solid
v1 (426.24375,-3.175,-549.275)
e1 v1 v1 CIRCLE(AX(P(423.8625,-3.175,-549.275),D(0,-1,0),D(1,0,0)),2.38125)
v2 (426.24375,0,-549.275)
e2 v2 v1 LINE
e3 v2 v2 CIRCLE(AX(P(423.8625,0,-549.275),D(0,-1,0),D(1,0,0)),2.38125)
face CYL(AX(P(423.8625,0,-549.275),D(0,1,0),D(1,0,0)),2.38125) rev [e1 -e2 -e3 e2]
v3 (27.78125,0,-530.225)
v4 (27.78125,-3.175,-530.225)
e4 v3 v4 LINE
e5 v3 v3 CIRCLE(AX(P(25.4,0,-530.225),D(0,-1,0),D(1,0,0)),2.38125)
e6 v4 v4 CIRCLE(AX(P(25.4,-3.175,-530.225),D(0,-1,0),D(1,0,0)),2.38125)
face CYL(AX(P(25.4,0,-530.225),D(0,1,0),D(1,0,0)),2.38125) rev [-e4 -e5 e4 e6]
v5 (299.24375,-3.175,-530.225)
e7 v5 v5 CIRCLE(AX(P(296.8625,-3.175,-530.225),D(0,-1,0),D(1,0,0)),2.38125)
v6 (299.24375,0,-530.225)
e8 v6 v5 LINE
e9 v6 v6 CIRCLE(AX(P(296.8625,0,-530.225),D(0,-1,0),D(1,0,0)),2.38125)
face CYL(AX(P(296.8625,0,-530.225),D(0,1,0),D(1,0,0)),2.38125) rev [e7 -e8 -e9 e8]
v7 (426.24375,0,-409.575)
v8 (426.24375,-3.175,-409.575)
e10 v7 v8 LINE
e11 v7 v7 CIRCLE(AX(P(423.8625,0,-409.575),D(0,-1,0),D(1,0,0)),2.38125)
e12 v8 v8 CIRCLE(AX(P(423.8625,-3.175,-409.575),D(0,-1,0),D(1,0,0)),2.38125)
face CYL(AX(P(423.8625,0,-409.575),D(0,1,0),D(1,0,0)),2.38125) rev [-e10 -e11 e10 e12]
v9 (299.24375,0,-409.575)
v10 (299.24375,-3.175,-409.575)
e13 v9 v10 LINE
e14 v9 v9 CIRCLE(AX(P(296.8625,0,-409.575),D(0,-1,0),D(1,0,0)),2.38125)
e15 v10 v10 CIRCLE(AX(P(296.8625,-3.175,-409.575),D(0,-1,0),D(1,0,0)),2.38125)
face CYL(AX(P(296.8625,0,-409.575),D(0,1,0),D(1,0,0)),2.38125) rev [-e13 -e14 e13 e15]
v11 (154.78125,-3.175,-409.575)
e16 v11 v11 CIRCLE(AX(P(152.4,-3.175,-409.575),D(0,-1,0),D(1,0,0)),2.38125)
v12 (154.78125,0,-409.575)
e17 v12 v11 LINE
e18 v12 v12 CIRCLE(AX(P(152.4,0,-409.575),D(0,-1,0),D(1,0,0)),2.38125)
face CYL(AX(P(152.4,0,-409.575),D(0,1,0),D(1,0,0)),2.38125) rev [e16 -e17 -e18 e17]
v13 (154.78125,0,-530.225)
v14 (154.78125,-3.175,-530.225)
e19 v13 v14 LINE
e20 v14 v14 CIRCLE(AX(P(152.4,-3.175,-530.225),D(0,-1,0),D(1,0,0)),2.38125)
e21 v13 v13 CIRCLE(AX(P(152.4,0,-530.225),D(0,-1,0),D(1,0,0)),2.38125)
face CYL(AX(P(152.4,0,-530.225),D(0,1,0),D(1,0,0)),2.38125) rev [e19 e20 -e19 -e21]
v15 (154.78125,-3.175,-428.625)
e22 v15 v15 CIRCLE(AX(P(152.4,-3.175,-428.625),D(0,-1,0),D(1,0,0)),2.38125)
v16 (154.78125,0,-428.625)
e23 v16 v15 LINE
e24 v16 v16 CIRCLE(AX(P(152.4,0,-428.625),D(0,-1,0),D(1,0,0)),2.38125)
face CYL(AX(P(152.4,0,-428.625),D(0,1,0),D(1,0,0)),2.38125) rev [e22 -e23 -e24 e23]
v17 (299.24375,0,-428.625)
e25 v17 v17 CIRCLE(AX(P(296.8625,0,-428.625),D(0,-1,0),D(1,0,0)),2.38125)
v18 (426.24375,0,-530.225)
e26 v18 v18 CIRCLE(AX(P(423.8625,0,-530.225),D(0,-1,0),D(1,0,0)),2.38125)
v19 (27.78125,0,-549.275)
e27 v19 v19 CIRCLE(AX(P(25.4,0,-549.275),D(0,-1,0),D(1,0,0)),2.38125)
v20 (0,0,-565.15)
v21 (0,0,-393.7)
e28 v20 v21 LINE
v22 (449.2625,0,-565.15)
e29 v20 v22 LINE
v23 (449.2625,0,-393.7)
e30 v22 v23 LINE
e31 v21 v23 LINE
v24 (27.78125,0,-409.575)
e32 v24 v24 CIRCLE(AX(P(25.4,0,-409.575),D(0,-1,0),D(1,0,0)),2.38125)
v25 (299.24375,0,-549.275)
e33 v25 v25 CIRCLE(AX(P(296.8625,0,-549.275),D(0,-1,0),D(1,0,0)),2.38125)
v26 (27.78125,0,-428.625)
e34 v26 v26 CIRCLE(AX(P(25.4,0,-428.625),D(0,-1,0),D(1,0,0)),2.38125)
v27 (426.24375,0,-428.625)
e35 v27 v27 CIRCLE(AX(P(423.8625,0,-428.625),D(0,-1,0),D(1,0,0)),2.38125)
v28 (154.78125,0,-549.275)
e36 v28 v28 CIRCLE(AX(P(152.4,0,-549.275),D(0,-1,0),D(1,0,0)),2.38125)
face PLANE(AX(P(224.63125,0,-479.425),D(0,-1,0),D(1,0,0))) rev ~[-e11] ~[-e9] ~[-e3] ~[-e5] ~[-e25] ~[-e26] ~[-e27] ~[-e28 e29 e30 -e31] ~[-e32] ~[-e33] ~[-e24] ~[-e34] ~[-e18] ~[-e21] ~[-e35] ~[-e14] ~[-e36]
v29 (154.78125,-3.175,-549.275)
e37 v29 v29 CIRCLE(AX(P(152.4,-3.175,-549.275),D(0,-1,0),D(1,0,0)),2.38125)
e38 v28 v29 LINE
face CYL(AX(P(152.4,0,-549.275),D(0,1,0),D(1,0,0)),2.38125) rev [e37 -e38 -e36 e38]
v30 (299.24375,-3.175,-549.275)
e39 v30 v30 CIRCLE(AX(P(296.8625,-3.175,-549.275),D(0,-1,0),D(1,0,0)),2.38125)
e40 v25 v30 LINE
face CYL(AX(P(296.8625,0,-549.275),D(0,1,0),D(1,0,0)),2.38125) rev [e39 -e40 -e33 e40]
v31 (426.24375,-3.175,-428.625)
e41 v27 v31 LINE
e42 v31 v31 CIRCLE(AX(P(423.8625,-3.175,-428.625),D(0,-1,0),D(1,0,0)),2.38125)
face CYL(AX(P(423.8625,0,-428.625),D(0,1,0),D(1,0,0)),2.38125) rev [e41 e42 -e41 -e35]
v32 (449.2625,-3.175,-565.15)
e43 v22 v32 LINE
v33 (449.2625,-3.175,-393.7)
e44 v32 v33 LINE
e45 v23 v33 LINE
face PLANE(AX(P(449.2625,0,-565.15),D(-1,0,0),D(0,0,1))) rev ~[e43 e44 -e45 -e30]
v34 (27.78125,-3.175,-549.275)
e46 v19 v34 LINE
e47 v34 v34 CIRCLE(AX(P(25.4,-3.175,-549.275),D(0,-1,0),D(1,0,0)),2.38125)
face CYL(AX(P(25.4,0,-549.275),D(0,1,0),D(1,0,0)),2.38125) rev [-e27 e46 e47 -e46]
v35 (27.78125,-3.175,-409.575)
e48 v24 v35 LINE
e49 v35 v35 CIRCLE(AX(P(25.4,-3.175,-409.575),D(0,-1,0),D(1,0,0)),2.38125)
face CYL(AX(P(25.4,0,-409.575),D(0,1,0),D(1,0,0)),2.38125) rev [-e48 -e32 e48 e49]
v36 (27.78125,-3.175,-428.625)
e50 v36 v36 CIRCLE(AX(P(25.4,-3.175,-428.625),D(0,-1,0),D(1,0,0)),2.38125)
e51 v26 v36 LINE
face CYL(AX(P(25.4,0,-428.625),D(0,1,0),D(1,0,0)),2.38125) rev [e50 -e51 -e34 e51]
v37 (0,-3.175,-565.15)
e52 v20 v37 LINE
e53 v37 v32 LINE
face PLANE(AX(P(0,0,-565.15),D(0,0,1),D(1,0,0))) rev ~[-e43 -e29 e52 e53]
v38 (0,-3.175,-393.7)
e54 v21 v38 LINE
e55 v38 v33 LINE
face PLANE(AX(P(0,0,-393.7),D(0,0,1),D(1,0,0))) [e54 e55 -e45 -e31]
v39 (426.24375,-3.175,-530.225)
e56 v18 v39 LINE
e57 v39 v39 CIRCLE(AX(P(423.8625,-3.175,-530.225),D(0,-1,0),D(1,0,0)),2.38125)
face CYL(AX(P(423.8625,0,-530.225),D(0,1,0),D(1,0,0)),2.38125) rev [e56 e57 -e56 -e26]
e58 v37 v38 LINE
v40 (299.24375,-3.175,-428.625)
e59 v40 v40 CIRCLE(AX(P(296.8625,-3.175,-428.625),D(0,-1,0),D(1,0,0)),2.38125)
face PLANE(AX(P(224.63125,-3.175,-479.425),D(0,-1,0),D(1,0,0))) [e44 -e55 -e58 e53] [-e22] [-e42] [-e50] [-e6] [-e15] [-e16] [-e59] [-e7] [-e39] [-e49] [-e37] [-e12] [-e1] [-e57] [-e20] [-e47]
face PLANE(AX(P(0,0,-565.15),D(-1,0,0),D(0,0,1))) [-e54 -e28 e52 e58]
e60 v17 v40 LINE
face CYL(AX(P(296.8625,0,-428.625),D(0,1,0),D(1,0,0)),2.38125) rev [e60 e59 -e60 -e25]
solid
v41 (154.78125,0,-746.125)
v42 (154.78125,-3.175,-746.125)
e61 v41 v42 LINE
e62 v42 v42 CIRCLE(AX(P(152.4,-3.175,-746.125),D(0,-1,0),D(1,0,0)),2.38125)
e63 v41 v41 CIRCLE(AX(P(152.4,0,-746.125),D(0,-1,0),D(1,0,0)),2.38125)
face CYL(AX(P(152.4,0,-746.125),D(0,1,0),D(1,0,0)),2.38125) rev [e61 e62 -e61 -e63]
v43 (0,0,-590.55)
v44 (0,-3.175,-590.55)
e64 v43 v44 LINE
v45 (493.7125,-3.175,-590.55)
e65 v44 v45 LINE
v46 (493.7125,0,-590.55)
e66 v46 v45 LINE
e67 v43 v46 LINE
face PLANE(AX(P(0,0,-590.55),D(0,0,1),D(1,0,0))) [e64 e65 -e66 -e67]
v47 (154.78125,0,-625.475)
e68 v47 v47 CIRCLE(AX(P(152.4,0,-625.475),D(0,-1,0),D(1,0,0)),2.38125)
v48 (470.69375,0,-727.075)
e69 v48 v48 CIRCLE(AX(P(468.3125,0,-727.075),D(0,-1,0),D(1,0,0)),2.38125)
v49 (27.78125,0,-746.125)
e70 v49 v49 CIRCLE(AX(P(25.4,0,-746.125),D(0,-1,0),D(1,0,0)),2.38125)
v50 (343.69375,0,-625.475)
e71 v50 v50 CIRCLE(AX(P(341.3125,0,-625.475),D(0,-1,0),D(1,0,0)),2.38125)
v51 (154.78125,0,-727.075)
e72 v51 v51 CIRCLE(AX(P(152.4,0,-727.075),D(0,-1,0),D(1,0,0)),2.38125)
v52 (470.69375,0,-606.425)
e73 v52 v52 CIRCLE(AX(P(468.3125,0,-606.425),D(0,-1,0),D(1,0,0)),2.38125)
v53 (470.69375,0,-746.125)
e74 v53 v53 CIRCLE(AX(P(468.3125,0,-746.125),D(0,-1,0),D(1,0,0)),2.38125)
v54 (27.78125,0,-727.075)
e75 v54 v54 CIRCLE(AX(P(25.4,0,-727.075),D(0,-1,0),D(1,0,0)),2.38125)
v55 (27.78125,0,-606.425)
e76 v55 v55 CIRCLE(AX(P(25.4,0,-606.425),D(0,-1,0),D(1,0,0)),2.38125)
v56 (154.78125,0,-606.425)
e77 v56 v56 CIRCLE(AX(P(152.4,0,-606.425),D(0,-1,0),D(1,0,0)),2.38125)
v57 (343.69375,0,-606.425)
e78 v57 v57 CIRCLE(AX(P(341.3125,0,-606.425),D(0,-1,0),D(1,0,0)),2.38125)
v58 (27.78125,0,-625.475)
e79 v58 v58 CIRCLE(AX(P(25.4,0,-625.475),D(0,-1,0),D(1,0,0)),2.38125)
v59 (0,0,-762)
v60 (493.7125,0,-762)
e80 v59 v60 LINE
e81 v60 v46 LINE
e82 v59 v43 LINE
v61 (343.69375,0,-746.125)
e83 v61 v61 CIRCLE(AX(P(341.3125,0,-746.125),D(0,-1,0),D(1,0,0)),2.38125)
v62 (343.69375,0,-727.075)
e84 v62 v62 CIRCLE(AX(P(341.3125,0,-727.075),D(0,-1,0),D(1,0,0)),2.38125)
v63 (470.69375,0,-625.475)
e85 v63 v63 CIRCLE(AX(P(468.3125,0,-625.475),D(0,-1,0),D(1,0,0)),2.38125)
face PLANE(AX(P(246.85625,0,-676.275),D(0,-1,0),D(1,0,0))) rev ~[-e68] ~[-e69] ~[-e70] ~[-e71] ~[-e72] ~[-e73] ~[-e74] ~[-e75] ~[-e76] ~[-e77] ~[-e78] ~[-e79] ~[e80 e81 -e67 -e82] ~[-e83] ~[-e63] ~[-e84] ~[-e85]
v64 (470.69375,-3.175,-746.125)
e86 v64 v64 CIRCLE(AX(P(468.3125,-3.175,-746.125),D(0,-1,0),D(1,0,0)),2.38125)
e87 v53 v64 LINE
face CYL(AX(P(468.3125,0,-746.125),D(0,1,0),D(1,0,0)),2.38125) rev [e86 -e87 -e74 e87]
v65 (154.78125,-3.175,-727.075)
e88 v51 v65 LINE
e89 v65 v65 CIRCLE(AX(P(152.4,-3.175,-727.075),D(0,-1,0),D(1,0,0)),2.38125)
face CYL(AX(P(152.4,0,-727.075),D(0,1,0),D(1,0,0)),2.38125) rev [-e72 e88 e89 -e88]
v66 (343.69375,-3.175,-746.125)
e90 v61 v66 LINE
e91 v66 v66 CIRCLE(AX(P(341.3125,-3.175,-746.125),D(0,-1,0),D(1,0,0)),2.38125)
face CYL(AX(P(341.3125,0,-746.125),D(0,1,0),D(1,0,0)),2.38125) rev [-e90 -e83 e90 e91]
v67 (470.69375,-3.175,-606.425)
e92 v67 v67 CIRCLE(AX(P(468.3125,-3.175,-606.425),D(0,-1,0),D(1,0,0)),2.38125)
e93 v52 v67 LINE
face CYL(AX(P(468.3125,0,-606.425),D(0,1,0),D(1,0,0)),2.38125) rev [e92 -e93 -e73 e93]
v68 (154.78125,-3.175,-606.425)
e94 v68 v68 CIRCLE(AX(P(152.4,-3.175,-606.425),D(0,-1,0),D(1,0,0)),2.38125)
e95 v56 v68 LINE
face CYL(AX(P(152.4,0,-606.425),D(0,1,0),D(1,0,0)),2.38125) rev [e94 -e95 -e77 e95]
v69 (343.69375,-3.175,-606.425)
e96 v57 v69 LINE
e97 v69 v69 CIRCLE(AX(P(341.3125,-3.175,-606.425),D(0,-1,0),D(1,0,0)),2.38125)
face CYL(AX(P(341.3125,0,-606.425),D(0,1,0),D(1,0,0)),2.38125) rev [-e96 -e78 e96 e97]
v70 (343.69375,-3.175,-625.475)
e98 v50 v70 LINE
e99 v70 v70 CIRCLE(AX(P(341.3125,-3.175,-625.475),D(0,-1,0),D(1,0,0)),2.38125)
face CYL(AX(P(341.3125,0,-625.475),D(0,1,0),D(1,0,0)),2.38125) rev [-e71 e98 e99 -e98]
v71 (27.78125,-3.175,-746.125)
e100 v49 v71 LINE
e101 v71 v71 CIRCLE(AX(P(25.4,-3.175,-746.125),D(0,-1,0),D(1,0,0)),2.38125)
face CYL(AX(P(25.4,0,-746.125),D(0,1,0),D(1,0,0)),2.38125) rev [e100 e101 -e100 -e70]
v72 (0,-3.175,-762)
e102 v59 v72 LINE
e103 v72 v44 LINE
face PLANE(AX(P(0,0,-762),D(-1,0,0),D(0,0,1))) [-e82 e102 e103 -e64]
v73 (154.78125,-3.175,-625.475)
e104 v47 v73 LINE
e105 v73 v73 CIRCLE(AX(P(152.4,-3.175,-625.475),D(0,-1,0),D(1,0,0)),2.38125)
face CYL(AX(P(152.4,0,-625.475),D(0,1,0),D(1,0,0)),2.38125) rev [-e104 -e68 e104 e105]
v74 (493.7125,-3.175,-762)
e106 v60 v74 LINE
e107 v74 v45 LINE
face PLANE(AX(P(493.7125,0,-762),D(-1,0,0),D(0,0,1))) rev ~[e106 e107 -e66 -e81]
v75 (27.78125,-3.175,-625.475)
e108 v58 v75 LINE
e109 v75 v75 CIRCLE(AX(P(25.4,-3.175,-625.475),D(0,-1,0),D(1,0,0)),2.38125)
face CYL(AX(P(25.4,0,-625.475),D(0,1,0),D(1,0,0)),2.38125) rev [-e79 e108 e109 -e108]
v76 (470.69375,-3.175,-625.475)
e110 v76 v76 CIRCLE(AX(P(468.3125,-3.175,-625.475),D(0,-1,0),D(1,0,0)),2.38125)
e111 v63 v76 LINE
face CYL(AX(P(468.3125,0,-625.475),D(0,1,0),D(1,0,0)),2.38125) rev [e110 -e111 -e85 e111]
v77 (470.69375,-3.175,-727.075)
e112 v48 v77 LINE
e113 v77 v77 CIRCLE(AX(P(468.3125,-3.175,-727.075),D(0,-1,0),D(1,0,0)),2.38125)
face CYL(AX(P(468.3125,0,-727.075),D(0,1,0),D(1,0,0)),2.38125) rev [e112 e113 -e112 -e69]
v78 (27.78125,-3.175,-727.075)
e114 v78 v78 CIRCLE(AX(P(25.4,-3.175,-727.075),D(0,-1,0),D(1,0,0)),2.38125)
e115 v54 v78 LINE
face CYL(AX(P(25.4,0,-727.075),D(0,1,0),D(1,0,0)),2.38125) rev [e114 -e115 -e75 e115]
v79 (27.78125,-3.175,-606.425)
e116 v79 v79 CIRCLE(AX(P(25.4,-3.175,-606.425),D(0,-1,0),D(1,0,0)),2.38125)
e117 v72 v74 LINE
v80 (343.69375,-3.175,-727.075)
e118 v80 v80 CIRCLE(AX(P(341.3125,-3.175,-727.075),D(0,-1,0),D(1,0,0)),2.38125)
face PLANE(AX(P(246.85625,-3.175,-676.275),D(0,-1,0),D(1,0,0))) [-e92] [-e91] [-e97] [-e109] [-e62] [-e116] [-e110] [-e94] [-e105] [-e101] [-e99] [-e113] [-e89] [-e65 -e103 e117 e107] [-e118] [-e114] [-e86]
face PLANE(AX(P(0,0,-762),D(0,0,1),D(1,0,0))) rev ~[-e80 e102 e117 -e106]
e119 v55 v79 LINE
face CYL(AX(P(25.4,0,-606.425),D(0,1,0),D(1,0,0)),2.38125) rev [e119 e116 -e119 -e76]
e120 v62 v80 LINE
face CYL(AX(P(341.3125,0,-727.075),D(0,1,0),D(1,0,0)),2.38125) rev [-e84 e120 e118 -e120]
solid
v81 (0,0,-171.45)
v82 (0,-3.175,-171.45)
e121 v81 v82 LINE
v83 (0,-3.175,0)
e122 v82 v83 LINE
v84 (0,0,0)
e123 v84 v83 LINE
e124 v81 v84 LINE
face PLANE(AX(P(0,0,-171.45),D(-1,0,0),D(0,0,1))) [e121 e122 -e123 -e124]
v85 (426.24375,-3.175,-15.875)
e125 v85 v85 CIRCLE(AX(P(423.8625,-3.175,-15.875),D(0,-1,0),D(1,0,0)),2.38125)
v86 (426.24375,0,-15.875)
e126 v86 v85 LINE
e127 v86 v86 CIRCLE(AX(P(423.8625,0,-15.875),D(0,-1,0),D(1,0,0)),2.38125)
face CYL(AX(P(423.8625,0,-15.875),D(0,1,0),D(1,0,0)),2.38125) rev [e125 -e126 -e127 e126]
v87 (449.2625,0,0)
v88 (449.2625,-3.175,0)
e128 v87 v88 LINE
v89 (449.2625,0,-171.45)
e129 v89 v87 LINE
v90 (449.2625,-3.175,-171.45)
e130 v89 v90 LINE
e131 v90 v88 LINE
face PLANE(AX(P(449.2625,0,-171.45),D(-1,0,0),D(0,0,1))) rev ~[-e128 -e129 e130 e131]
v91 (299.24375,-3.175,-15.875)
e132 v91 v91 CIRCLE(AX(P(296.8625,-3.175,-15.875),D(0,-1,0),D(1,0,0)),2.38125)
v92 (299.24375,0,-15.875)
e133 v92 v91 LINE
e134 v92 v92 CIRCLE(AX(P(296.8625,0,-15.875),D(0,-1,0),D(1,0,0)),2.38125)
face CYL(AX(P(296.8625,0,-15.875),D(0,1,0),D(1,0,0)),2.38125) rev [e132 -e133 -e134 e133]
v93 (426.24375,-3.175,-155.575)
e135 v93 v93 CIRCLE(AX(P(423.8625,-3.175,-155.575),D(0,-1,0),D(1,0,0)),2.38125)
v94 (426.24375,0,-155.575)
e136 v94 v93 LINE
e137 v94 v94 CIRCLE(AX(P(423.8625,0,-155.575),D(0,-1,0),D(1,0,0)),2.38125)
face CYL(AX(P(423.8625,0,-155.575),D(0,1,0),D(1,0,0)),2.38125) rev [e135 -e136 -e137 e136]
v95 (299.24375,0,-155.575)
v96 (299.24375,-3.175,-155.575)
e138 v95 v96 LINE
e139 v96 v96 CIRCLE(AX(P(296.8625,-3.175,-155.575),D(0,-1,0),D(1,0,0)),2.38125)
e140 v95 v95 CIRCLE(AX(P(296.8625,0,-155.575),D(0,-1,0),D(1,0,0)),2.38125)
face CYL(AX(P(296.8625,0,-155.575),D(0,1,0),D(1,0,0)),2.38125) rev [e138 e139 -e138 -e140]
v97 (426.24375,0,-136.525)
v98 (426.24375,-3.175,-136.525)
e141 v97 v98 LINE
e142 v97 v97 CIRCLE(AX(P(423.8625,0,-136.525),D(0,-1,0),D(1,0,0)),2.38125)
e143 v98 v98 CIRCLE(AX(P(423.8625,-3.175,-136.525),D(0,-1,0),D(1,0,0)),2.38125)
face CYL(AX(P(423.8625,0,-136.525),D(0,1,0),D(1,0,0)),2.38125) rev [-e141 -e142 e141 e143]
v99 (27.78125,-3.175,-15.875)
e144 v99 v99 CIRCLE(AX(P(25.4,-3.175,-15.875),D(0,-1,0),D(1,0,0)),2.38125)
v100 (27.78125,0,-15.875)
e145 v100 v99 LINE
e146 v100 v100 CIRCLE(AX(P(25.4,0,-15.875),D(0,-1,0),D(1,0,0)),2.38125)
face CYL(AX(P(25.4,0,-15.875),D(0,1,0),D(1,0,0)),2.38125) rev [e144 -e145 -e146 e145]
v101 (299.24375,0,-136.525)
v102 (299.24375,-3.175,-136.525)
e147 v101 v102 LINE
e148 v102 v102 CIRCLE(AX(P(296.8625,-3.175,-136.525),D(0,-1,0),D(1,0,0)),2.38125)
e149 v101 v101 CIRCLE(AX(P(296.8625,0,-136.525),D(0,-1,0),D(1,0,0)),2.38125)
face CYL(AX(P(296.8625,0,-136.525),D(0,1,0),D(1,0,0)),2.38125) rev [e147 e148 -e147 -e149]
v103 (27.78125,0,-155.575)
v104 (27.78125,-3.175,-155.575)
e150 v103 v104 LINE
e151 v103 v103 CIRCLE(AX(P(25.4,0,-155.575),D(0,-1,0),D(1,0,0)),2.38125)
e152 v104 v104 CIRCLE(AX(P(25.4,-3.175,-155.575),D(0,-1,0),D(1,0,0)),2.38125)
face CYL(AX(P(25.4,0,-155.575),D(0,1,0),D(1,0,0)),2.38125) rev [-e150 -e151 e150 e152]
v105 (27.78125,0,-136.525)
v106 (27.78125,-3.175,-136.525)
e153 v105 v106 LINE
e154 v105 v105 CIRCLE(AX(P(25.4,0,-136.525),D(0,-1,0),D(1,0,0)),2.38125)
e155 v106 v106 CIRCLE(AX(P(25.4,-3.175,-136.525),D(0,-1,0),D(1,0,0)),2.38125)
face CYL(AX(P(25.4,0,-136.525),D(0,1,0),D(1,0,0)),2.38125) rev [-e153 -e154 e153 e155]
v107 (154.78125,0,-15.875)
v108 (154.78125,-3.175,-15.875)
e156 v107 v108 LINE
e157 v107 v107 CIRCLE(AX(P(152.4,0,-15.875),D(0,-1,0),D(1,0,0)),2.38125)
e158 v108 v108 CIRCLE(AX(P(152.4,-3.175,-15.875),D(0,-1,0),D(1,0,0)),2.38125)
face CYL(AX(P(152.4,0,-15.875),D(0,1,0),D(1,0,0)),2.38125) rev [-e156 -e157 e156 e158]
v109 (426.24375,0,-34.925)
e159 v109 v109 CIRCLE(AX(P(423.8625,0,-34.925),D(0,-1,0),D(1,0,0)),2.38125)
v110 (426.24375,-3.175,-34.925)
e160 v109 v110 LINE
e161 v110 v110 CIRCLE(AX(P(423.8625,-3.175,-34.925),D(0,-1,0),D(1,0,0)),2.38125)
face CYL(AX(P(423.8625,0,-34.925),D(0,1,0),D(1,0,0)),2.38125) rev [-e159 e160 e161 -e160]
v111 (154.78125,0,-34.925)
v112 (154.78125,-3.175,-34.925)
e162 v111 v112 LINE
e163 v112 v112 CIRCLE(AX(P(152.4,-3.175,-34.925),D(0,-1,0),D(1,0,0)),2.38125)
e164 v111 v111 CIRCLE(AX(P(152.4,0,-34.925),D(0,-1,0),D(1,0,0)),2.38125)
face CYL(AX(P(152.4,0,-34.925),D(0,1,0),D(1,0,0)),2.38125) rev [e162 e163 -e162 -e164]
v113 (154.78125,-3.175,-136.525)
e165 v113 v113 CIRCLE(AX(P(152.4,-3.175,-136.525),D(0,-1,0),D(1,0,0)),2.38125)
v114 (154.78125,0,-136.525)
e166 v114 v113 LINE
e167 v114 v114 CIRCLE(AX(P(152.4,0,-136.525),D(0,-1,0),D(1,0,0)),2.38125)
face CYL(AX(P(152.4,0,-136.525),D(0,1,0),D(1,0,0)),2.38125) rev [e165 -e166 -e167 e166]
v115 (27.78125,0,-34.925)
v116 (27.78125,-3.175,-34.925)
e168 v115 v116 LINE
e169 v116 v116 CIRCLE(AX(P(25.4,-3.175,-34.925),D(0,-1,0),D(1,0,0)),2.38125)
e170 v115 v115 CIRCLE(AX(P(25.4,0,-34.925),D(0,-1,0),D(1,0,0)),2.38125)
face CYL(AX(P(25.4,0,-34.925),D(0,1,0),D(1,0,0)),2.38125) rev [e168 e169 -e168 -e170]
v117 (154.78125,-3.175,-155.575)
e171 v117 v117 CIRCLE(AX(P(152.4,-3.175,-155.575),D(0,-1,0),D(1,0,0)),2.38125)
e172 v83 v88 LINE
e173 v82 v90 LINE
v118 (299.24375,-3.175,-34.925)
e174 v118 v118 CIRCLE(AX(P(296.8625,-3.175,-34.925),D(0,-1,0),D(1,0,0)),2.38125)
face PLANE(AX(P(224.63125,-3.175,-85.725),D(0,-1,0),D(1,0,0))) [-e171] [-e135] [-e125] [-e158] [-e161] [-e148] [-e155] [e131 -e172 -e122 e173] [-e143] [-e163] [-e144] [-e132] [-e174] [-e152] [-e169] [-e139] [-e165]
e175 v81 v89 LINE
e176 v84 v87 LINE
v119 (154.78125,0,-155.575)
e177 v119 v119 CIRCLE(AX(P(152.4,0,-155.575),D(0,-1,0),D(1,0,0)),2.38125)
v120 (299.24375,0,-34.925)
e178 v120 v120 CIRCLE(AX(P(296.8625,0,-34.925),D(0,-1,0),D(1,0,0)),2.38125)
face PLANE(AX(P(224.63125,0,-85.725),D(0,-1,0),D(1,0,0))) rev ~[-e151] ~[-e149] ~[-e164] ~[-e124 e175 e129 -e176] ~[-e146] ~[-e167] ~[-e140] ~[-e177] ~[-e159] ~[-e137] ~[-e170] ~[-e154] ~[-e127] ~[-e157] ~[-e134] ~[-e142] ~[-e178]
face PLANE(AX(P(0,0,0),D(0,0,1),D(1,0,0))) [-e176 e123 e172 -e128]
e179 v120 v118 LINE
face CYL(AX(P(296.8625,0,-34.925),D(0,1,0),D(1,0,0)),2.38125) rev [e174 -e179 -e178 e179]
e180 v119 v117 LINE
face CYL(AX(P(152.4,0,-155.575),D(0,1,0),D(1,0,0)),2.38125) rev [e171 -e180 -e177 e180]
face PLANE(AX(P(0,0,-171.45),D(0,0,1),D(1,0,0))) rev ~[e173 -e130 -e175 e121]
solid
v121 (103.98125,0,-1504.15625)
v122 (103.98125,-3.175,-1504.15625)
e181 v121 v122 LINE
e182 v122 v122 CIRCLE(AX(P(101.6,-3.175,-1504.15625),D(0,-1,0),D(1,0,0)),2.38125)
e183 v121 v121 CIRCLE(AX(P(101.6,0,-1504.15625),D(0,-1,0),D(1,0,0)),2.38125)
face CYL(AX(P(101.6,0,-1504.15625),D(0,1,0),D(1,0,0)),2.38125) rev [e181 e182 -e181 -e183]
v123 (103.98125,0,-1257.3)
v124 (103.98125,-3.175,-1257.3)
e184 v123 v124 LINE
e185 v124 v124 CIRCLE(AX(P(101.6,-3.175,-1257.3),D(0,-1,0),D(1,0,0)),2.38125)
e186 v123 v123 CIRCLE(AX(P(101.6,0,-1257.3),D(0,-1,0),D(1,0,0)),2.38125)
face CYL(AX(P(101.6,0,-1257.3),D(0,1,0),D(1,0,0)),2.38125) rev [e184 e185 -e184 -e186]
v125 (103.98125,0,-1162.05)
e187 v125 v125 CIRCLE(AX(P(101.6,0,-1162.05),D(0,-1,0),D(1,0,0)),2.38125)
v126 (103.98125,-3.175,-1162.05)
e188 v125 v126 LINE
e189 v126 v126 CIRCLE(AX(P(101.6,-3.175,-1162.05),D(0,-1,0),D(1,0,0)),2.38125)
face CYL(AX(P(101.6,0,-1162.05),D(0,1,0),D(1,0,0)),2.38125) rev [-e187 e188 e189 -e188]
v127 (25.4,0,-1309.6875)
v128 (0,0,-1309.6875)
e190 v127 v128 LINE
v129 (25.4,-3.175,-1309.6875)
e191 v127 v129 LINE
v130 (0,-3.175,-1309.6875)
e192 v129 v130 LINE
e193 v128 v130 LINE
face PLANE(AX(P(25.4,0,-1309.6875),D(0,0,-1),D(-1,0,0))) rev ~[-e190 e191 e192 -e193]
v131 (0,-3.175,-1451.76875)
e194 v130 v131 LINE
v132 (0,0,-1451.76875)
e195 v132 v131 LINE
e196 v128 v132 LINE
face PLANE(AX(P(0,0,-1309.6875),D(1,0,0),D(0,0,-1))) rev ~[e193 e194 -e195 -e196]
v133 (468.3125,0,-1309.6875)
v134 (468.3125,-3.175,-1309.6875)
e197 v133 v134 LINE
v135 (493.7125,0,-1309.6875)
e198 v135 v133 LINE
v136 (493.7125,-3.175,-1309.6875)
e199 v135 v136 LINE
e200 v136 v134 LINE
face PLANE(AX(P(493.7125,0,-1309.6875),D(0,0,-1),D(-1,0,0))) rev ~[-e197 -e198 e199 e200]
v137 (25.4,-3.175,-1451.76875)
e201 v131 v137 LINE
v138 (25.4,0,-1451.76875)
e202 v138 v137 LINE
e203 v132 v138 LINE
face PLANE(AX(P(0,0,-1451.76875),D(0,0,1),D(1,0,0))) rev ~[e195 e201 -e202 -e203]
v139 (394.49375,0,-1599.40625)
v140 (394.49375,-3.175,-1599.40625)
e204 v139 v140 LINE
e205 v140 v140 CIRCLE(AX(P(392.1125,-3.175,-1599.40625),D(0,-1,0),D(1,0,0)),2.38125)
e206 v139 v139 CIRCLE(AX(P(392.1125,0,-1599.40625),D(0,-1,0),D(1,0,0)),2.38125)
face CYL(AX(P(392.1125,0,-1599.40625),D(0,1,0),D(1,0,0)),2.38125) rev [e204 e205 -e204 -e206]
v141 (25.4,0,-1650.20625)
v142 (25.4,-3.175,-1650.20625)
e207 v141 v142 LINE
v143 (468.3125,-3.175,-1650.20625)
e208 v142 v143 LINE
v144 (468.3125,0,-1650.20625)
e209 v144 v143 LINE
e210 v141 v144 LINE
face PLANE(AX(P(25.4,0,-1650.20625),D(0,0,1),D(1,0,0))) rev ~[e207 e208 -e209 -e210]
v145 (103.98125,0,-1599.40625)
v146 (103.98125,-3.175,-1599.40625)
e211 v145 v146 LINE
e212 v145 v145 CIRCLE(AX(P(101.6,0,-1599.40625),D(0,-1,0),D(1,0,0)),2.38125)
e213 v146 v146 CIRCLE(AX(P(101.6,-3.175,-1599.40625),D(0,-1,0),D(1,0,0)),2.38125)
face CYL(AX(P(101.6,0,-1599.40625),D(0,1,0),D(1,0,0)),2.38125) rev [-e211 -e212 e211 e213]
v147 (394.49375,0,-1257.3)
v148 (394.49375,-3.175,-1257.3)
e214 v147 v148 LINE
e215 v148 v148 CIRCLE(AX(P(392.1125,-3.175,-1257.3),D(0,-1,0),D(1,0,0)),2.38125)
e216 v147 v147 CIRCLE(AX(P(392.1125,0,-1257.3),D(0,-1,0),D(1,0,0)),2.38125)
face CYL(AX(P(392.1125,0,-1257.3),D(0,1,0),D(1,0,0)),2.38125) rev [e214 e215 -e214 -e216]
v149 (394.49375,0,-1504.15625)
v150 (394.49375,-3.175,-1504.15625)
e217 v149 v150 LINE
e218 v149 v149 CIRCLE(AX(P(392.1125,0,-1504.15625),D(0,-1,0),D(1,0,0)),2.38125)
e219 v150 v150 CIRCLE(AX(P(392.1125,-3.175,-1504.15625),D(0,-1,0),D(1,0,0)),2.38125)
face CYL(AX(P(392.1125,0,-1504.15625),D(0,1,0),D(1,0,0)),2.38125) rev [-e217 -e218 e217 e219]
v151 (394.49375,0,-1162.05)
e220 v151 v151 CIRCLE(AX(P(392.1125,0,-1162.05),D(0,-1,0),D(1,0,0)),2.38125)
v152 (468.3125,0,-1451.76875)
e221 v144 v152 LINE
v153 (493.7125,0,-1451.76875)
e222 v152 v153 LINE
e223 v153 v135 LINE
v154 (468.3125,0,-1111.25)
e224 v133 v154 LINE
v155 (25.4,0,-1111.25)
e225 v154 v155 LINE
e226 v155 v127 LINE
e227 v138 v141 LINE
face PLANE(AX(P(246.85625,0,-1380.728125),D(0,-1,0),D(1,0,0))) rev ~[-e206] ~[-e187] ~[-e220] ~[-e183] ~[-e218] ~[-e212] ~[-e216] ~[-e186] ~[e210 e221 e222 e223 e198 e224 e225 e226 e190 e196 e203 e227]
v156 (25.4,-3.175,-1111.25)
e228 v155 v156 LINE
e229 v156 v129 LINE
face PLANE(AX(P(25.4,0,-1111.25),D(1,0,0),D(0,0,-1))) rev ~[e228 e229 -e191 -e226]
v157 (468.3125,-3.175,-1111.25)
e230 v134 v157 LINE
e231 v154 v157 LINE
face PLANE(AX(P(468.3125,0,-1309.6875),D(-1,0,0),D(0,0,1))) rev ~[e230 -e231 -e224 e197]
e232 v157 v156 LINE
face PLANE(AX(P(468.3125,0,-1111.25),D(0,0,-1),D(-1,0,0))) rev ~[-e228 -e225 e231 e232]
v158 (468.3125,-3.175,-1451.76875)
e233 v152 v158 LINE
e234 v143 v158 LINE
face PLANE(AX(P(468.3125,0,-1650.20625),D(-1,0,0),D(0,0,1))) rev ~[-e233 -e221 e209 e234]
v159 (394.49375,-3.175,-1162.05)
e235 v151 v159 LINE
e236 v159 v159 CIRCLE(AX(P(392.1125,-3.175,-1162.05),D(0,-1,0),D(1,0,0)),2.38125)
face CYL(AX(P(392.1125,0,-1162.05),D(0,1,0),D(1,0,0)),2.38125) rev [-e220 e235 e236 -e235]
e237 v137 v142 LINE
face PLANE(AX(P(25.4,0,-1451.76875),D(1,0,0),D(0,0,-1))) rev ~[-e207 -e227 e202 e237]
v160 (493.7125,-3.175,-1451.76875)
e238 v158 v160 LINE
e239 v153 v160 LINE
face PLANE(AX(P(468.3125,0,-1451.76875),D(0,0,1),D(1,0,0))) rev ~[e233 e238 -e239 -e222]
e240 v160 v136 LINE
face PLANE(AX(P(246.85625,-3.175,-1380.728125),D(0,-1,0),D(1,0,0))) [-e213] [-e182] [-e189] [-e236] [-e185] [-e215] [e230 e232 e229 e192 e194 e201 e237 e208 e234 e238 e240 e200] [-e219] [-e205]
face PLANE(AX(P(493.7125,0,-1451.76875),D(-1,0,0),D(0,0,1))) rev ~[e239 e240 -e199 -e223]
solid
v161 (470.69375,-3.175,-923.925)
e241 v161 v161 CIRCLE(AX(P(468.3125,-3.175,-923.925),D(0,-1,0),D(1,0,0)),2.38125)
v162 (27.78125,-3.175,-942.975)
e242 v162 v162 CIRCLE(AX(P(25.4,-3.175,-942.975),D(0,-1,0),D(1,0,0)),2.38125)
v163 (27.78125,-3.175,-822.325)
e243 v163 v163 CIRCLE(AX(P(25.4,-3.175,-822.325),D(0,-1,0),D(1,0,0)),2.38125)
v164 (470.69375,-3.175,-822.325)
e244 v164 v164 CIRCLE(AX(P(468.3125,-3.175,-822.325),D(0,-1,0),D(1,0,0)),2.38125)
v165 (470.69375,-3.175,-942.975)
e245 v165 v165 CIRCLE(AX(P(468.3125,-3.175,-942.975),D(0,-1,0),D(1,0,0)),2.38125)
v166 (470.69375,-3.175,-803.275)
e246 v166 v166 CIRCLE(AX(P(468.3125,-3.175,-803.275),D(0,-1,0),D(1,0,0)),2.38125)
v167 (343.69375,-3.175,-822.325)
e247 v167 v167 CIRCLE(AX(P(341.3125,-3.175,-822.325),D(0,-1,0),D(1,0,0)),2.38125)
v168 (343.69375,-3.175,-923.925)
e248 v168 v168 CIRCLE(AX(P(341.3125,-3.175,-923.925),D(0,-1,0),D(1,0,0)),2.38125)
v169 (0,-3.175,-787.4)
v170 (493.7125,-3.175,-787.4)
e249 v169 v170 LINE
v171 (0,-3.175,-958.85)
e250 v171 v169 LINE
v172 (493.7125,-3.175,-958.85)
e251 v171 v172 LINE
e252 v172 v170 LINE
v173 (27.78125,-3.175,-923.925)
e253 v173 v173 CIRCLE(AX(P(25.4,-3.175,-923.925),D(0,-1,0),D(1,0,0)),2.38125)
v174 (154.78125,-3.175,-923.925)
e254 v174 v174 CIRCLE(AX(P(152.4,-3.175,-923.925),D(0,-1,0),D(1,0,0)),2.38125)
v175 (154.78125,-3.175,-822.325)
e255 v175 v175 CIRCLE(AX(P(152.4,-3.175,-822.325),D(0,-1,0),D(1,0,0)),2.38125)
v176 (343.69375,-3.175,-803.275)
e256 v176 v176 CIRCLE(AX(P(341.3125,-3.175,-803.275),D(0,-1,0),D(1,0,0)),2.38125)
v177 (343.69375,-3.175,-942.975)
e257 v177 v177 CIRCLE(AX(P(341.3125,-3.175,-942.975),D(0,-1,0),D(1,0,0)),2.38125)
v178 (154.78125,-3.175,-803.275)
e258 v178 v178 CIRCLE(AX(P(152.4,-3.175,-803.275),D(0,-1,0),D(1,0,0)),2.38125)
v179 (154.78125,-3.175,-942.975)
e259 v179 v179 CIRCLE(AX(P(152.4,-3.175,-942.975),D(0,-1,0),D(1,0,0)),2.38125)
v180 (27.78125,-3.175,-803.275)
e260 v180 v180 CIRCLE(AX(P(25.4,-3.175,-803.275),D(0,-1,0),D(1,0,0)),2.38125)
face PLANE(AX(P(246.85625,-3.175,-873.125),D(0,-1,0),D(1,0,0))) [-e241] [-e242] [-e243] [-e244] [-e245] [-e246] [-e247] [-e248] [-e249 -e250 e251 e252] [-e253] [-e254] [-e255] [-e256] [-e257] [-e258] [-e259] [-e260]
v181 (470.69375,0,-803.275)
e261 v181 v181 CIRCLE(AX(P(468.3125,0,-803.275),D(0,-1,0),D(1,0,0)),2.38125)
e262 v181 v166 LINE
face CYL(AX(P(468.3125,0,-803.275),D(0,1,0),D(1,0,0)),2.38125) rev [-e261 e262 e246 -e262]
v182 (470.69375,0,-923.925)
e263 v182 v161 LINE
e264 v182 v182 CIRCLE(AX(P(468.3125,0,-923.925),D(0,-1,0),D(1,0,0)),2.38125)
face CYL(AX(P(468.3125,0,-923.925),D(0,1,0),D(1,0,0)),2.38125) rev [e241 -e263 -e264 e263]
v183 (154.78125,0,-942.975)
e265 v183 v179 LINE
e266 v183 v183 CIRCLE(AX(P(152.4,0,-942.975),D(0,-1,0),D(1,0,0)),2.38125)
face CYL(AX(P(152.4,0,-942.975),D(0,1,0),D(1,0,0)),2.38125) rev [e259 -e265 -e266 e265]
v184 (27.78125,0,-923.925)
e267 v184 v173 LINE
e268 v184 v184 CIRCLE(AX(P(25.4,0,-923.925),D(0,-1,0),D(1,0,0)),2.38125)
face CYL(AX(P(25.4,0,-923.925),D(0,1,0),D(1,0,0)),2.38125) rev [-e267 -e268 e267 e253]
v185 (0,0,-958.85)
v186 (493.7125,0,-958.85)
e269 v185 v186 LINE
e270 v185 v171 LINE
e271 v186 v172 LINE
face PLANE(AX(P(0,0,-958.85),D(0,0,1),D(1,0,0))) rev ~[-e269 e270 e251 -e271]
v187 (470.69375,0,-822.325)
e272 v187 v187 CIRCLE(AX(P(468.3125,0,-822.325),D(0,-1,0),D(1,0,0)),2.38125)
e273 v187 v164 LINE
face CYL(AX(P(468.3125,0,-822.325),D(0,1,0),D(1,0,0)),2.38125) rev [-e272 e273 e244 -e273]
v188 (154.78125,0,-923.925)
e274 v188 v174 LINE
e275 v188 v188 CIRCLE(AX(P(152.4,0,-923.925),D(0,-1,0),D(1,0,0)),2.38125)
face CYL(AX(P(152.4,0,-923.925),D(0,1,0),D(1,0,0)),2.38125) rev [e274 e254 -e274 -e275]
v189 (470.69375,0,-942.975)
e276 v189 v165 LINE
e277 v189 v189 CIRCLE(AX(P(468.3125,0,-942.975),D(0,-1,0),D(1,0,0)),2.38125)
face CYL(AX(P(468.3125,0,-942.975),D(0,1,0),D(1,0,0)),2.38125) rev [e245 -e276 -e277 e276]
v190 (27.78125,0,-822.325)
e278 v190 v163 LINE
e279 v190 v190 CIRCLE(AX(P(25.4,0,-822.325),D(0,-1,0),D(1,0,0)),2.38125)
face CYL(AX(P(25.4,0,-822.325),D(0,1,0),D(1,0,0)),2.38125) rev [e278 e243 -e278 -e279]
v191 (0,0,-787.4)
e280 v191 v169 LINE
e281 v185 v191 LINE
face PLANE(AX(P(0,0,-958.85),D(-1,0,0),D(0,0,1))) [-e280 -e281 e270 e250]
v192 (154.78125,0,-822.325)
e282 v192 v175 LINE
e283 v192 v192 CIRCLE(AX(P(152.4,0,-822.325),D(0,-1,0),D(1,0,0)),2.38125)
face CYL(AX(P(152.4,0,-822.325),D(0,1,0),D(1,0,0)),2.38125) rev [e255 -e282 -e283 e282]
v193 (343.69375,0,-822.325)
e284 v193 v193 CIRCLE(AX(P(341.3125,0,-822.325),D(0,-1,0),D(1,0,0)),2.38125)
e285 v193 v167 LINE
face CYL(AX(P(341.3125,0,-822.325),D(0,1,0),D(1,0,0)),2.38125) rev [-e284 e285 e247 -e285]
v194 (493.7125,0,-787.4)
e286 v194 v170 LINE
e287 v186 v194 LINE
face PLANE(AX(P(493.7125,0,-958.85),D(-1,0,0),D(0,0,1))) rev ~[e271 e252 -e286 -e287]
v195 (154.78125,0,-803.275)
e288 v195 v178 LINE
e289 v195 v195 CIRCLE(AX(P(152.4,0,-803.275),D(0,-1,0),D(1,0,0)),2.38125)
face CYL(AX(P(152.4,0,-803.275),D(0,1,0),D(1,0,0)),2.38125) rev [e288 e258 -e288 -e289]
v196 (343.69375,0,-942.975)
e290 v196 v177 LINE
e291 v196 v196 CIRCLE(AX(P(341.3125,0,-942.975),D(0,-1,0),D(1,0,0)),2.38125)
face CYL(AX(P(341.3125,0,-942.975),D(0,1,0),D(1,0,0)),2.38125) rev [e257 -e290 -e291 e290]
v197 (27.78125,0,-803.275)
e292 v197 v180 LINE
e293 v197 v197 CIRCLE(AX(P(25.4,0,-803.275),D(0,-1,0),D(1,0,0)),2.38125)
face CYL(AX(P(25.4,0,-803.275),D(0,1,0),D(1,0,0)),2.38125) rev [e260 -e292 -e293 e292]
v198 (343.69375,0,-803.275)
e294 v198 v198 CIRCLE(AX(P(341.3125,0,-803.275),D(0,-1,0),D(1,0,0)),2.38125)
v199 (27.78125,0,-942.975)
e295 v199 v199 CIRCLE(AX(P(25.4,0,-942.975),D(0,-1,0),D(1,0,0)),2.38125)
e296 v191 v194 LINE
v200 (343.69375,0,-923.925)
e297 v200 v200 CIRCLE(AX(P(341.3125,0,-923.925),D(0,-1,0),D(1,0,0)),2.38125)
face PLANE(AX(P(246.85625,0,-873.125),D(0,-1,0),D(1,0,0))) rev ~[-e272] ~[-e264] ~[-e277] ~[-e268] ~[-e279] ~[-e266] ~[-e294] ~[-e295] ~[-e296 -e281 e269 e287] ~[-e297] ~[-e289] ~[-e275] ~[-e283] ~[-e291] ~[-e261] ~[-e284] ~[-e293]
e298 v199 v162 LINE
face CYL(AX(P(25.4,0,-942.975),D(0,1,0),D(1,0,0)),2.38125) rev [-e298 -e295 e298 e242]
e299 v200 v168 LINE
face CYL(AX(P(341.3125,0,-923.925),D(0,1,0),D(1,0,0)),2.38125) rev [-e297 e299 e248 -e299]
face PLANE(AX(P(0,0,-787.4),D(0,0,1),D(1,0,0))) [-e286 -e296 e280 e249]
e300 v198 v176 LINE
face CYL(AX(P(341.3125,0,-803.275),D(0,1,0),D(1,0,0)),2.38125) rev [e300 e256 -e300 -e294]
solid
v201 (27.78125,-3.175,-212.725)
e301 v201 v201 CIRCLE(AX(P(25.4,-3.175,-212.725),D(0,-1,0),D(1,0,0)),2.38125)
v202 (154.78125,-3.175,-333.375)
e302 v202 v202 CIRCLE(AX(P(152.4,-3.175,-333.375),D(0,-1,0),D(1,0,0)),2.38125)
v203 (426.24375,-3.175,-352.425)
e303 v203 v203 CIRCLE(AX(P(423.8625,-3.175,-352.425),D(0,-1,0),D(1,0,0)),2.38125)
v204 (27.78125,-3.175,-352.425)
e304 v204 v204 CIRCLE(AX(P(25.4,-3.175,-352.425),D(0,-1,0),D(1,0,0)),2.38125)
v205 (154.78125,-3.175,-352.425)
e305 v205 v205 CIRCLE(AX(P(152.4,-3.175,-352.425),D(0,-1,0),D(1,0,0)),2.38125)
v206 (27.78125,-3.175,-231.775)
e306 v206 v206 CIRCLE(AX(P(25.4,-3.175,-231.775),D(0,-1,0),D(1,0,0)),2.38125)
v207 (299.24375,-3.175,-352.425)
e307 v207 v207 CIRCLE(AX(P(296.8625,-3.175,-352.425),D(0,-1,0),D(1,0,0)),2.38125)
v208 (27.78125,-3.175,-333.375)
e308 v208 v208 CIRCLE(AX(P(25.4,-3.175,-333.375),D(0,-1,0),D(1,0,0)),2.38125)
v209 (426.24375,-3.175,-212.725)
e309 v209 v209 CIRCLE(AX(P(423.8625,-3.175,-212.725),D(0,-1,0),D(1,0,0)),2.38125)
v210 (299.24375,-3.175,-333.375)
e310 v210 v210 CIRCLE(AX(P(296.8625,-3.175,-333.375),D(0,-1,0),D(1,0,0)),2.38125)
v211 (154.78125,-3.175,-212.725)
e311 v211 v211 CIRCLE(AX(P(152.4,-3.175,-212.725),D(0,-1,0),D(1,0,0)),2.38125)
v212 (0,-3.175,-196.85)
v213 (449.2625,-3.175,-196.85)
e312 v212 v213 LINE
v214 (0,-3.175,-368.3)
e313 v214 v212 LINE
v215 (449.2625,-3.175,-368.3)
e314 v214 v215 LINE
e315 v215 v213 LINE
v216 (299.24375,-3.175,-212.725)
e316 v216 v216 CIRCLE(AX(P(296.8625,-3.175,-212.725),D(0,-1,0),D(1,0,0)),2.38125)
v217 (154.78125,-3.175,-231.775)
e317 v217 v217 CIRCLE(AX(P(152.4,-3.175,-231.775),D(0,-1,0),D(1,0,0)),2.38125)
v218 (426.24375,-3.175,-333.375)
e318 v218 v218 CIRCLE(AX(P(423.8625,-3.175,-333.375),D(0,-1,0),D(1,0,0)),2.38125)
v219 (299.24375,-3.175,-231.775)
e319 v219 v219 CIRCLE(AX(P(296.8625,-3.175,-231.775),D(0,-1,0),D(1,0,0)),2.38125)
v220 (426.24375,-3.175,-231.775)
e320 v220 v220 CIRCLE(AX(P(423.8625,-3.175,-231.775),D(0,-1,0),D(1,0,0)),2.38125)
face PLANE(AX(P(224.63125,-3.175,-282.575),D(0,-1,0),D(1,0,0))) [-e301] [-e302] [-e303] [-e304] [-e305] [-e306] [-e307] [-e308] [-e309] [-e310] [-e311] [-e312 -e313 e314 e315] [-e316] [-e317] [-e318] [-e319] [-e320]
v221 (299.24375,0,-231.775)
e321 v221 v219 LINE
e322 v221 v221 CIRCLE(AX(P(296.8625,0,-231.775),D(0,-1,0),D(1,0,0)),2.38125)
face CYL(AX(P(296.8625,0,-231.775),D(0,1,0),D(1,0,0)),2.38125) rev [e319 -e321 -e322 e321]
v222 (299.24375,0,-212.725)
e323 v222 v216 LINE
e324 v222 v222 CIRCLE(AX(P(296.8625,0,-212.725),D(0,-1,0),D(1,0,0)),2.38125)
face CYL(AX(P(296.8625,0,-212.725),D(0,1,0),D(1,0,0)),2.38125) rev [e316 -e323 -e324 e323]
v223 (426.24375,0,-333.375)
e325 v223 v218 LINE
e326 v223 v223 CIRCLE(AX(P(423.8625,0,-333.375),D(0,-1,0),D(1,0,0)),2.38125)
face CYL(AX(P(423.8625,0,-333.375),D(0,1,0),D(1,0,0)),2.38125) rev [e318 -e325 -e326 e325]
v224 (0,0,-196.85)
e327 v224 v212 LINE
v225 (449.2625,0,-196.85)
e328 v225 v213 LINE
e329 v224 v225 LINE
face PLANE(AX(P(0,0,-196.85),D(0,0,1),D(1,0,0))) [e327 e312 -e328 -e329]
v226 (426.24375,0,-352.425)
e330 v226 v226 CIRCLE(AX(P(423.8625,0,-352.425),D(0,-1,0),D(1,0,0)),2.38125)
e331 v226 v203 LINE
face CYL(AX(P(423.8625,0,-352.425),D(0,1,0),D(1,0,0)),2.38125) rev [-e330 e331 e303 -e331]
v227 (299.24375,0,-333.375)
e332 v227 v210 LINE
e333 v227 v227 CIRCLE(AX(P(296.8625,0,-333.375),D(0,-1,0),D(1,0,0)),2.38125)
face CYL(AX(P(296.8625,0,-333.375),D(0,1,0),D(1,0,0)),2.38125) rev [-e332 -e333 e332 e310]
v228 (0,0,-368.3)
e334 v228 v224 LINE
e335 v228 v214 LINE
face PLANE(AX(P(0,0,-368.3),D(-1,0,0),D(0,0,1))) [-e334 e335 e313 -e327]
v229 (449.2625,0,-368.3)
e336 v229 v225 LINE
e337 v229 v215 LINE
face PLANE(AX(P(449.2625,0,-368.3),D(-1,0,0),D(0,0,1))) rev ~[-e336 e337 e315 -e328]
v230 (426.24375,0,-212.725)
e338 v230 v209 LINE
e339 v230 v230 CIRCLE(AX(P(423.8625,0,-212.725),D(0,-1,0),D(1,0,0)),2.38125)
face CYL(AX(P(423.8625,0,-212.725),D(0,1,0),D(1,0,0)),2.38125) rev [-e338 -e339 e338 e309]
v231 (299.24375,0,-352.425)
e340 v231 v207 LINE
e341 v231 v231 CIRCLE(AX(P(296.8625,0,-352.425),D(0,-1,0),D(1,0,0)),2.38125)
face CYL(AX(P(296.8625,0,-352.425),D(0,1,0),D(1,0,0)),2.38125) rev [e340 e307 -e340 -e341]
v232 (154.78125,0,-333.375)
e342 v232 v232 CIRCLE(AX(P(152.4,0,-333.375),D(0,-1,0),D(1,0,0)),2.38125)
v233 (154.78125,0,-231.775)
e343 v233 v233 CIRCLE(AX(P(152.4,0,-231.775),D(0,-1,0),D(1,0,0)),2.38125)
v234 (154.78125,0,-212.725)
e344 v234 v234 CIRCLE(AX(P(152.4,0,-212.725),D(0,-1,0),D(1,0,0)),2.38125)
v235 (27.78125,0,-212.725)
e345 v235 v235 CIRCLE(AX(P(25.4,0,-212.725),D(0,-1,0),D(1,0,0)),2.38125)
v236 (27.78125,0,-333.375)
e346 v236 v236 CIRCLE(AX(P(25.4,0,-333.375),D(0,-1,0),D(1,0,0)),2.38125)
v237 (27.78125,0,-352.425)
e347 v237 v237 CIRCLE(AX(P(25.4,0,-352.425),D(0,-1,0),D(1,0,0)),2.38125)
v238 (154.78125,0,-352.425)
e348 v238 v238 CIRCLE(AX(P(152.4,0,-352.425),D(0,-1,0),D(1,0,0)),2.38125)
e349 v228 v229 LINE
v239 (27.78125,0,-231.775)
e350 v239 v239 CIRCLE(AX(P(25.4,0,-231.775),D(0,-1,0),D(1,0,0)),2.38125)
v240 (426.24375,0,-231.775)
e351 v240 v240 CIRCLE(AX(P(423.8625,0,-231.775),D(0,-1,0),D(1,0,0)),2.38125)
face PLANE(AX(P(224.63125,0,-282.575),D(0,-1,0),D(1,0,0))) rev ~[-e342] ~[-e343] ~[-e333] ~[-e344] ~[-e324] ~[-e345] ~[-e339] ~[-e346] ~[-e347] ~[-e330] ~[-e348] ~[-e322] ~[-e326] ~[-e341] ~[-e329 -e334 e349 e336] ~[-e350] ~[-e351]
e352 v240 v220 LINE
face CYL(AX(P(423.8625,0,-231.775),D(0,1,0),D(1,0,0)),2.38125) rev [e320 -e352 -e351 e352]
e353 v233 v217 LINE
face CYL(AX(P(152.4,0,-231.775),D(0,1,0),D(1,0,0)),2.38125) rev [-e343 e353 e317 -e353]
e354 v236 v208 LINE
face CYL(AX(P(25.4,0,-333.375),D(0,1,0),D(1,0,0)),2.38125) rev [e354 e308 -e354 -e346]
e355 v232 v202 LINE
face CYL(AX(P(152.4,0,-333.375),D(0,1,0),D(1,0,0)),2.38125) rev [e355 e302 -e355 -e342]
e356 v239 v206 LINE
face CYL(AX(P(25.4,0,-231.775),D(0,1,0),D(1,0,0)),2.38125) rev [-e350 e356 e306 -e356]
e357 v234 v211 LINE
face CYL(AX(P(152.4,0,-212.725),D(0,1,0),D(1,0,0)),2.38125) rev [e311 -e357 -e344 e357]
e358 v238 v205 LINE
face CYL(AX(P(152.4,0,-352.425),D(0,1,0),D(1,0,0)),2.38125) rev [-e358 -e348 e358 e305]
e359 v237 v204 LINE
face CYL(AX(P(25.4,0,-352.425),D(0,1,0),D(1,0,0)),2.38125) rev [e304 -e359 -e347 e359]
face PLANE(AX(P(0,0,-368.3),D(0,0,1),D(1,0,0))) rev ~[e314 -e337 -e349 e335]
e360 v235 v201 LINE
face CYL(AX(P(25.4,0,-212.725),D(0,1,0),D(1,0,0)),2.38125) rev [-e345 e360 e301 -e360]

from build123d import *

# Parameters (mm, degrees)
F0_W     = 449.2625
F0_H     = 171.45
F0_R     = 2.38125
F0_W_2   = 493.7125
F1_DEPTH = 3.175


with BuildPart() as f1:
    # F0 (on Front) → F1 (new body)
    with BuildSketch(Plane.XZ):
        with Locations((224.63125, -85.725)):
            Rectangle(F0_W, F0_H)
        with Locations((25.4, -155.575)):
            Circle(F0_R, mode=Mode.SUBTRACT)
        with Locations((25.4, -136.525)):
            Circle(F0_R, mode=Mode.SUBTRACT)
        with Locations((25.4, -34.925)):
            Circle(F0_R, mode=Mode.SUBTRACT)
        with Locations((25.4, -15.875)):
            Circle(F0_R, mode=Mode.SUBTRACT)
        with Locations((152.4, -155.575)):
            Circle(F0_R, mode=Mode.SUBTRACT)
        with Locations((152.4, -136.525)):
            Circle(F0_R, mode=Mode.SUBTRACT)
        with Locations((152.4, -34.925)):
            Circle(F0_R, mode=Mode.SUBTRACT)
        with Locations((152.4, -15.875)):
            Circle(F0_R, mode=Mode.SUBTRACT)
        with Locations((296.8625, -155.575)):
            Circle(F0_R, mode=Mode.SUBTRACT)
        with Locations((296.8625, -136.525)):
            Circle(F0_R, mode=Mode.SUBTRACT)
        with Locations((296.8625, -34.925)):
            Circle(F0_R, mode=Mode.SUBTRACT)
        with Locations((296.8625, -15.875)):
            Circle(F0_R, mode=Mode.SUBTRACT)
        with Locations((423.8625, -155.575)):
            Circle(F0_R, mode=Mode.SUBTRACT)
        with Locations((423.8625, -136.525)):
            Circle(F0_R, mode=Mode.SUBTRACT)
        with Locations((423.8625, -34.925)):
            Circle(F0_R, mode=Mode.SUBTRACT)
        with Locations((423.8625, -15.875)):
            Circle(F0_R, mode=Mode.SUBTRACT)
        with Locations((246.85625, -676.275)):
            Rectangle(F0_W_2, F0_H)
        with Locations((25.4, -746.125)):
            Circle(F0_R, mode=Mode.SUBTRACT)
        with Locations((25.4, -727.075)):
            Circle(F0_R, mode=Mode.SUBTRACT)
        with Locations((25.4, -625.475)):
            Circle(F0_R, mode=Mode.SUBTRACT)
        with Locations((25.4, -606.425)):
            Circle(F0_R, mode=Mode.SUBTRACT)
        with Locations((152.4, -746.125)):
            Circle(F0_R, mode=Mode.SUBTRACT)
        with Locations((152.4, -727.075)):
            Circle(F0_R, mode=Mode.SUBTRACT)
        with Locations((152.4, -625.475)):
            Circle(F0_R, mode=Mode.SUBTRACT)
        with Locations((152.4, -606.425)):
            Circle(F0_R, mode=Mode.SUBTRACT)
        with Locations((341.3125, -746.125)):
            Circle(F0_R, mode=Mode.SUBTRACT)
        with Locations((341.3125, -727.075)):
            Circle(F0_R, mode=Mode.SUBTRACT)
        with Locations((341.3125, -625.475)):
            Circle(F0_R, mode=Mode.SUBTRACT)
        with Locations((341.3125, -606.425)):
            Circle(F0_R, mode=Mode.SUBTRACT)
        with Locations((468.3125, -746.125)):
            Circle(F0_R, mode=Mode.SUBTRACT)
        with Locations((468.3125, -727.075)):
            Circle(F0_R, mode=Mode.SUBTRACT)
        with Locations((468.3125, -625.475)):
            Circle(F0_R, mode=Mode.SUBTRACT)
        with Locations((468.3125, -606.425)):
            Circle(F0_R, mode=Mode.SUBTRACT)
        with Locations((224.63125, -282.575)):
            Rectangle(F0_W, F0_H)
        with Locations((25.4, -352.425)):
            Circle(F0_R, mode=Mode.SUBTRACT)
        with Locations((25.4, -333.375)):
            Circle(F0_R, mode=Mode.SUBTRACT)
        with Locations((25.4, -231.775)):
            Circle(F0_R, mode=Mode.SUBTRACT)
        with Locations((25.4, -212.725)):
            Circle(F0_R, mode=Mode.SUBTRACT)
        with Locations((152.4, -352.425)):
            Circle(F0_R, mode=Mode.SUBTRACT)
        with Locations((152.4, -333.375)):
            Circle(F0_R, mode=Mode.SUBTRACT)
        with Locations((152.4, -231.775)):
            Circle(F0_R, mode=Mode.SUBTRACT)
        with Locations((152.4, -212.725)):
            Circle(F0_R, mode=Mode.SUBTRACT)
        with Locations((296.8625, -352.425)):
            Circle(F0_R, mode=Mode.SUBTRACT)
        with Locations((296.8625, -333.375)):
            Circle(F0_R, mode=Mode.SUBTRACT)
        with Locations((296.8625, -231.775)):
            Circle(F0_R, mode=Mode.SUBTRACT)
        with Locations((296.8625, -212.725)):
            Circle(F0_R, mode=Mode.SUBTRACT)
        with Locations((423.8625, -352.425)):
            Circle(F0_R, mode=Mode.SUBTRACT)
        with Locations((423.8625, -333.375)):
            Circle(F0_R, mode=Mode.SUBTRACT)
        with Locations((423.8625, -231.775)):
            Circle(F0_R, mode=Mode.SUBTRACT)
        with Locations((423.8625, -212.725)):
            Circle(F0_R, mode=Mode.SUBTRACT)
        with Locations((224.63125, -479.425)):
            Rectangle(F0_W, F0_H)
        with Locations((25.4, -549.275)):
            Circle(F0_R, mode=Mode.SUBTRACT)
        with Locations((25.4, -530.225)):
            Circle(F0_R, mode=Mode.SUBTRACT)
        with Locations((25.4, -428.625)):
            Circle(F0_R, mode=Mode.SUBTRACT)
        with Locations((152.4, -549.275)):
            Circle(F0_R, mode=Mode.SUBTRACT)
        with Locations((152.4, -530.225)):
            Circle(F0_R, mode=Mode.SUBTRACT)
        with Locations((152.4, -428.625)):
            Circle(F0_R, mode=Mode.SUBTRACT)
        with Locations((25.4, -409.575)):
            Circle(F0_R, mode=Mode.SUBTRACT)
        with Locations((152.4, -409.575)):
            Circle(F0_R, mode=Mode.SUBTRACT)
        with Locations((296.8625, -549.275)):
            Circle(F0_R, mode=Mode.SUBTRACT)
        with Locations((296.8625, -530.225)):
            Circle(F0_R, mode=Mode.SUBTRACT)
        with Locations((296.8625, -428.625)):
            Circle(F0_R, mode=Mode.SUBTRACT)
        with Locations((423.8625, -549.275)):
            Circle(F0_R, mode=Mode.SUBTRACT)
        with Locations((423.8625, -530.225)):
            Circle(F0_R, mode=Mode.SUBTRACT)
        with Locations((423.8625, -428.625)):
            Circle(F0_R, mode=Mode.SUBTRACT)
        with Locations((296.8625, -409.575)):
            Circle(F0_R, mode=Mode.SUBTRACT)
        with Locations((423.8625, -409.575)):
            Circle(F0_R, mode=Mode.SUBTRACT)
        with Locations((246.85625, -873.125)):
            Rectangle(F0_W_2, F0_H)
        with Locations((25.4, -942.975)):
            Circle(F0_R, mode=Mode.SUBTRACT)
        with Locations((25.4, -923.925)):
            Circle(F0_R, mode=Mode.SUBTRACT)
        with Locations((152.4, -942.975)):
            Circle(F0_R, mode=Mode.SUBTRACT)
        with Locations((152.4, -923.925)):
            Circle(F0_R, mode=Mode.SUBTRACT)
        with Locations((341.3125, -942.975)):
            Circle(F0_R, mode=Mode.SUBTRACT)
        with Locations((341.3125, -923.925)):
            Circle(F0_R, mode=Mode.SUBTRACT)
        with Locations((468.3125, -942.975)):
            Circle(F0_R, mode=Mode.SUBTRACT)
        with Locations((468.3125, -923.925)):
            Circle(F0_R, mode=Mode.SUBTRACT)
        with Locations((25.4, -822.325)):
            Circle(F0_R, mode=Mode.SUBTRACT)
        with Locations((25.4, -803.275)):
            Circle(F0_R, mode=Mode.SUBTRACT)
        with Locations((152.4, -822.325)):
            Circle(F0_R, mode=Mode.SUBTRACT)
        with Locations((152.4, -803.275)):
            Circle(F0_R, mode=Mode.SUBTRACT)
        with Locations((341.3125, -822.325)):
            Circle(F0_R, mode=Mode.SUBTRACT)
        with Locations((341.3125, -803.275)):
            Circle(F0_R, mode=Mode.SUBTRACT)
        with Locations((468.3125, -822.325)):
            Circle(F0_R, mode=Mode.SUBTRACT)
        with Locations((468.3125, -803.275)):
            Circle(F0_R, mode=Mode.SUBTRACT)
        Polygon((25.4, -1309.6875), (0, -1309.6875), (0, -1451.76875), (25.4, -1451.76875), (25.4, -1650.20625), (468.3125, -1650.20625), (468.3125, -1451.76875), (493.7125, -1451.76875), (493.7125, -1309.6875), (468.3125, -1309.6875), (468.3125, -1111.25), (25.4, -1111.25), align=None)
        with Locations((101.6, -1599.40625)):
            Circle(F0_R, mode=Mode.SUBTRACT)
        with Locations((101.6, -1504.15625)):
            Circle(F0_R, mode=Mode.SUBTRACT)
        with Locations((101.6, -1257.3)):
            Circle(F0_R, mode=Mode.SUBTRACT)
        with Locations((101.6, -1162.05)):
            Circle(F0_R, mode=Mode.SUBTRACT)
        with Locations((392.1125, -1599.40625)):
            Circle(F0_R, mode=Mode.SUBTRACT)
        with Locations((392.1125, -1504.15625)):
            Circle(F0_R, mode=Mode.SUBTRACT)
        with Locations((392.1125, -1257.3)):
            Circle(F0_R, mode=Mode.SUBTRACT)
        with Locations((392.1125, -1162.05)):
            Circle(F0_R, mode=Mode.SUBTRACT)
    extrude(amount=F1_DEPTH)


solid = f1.part
